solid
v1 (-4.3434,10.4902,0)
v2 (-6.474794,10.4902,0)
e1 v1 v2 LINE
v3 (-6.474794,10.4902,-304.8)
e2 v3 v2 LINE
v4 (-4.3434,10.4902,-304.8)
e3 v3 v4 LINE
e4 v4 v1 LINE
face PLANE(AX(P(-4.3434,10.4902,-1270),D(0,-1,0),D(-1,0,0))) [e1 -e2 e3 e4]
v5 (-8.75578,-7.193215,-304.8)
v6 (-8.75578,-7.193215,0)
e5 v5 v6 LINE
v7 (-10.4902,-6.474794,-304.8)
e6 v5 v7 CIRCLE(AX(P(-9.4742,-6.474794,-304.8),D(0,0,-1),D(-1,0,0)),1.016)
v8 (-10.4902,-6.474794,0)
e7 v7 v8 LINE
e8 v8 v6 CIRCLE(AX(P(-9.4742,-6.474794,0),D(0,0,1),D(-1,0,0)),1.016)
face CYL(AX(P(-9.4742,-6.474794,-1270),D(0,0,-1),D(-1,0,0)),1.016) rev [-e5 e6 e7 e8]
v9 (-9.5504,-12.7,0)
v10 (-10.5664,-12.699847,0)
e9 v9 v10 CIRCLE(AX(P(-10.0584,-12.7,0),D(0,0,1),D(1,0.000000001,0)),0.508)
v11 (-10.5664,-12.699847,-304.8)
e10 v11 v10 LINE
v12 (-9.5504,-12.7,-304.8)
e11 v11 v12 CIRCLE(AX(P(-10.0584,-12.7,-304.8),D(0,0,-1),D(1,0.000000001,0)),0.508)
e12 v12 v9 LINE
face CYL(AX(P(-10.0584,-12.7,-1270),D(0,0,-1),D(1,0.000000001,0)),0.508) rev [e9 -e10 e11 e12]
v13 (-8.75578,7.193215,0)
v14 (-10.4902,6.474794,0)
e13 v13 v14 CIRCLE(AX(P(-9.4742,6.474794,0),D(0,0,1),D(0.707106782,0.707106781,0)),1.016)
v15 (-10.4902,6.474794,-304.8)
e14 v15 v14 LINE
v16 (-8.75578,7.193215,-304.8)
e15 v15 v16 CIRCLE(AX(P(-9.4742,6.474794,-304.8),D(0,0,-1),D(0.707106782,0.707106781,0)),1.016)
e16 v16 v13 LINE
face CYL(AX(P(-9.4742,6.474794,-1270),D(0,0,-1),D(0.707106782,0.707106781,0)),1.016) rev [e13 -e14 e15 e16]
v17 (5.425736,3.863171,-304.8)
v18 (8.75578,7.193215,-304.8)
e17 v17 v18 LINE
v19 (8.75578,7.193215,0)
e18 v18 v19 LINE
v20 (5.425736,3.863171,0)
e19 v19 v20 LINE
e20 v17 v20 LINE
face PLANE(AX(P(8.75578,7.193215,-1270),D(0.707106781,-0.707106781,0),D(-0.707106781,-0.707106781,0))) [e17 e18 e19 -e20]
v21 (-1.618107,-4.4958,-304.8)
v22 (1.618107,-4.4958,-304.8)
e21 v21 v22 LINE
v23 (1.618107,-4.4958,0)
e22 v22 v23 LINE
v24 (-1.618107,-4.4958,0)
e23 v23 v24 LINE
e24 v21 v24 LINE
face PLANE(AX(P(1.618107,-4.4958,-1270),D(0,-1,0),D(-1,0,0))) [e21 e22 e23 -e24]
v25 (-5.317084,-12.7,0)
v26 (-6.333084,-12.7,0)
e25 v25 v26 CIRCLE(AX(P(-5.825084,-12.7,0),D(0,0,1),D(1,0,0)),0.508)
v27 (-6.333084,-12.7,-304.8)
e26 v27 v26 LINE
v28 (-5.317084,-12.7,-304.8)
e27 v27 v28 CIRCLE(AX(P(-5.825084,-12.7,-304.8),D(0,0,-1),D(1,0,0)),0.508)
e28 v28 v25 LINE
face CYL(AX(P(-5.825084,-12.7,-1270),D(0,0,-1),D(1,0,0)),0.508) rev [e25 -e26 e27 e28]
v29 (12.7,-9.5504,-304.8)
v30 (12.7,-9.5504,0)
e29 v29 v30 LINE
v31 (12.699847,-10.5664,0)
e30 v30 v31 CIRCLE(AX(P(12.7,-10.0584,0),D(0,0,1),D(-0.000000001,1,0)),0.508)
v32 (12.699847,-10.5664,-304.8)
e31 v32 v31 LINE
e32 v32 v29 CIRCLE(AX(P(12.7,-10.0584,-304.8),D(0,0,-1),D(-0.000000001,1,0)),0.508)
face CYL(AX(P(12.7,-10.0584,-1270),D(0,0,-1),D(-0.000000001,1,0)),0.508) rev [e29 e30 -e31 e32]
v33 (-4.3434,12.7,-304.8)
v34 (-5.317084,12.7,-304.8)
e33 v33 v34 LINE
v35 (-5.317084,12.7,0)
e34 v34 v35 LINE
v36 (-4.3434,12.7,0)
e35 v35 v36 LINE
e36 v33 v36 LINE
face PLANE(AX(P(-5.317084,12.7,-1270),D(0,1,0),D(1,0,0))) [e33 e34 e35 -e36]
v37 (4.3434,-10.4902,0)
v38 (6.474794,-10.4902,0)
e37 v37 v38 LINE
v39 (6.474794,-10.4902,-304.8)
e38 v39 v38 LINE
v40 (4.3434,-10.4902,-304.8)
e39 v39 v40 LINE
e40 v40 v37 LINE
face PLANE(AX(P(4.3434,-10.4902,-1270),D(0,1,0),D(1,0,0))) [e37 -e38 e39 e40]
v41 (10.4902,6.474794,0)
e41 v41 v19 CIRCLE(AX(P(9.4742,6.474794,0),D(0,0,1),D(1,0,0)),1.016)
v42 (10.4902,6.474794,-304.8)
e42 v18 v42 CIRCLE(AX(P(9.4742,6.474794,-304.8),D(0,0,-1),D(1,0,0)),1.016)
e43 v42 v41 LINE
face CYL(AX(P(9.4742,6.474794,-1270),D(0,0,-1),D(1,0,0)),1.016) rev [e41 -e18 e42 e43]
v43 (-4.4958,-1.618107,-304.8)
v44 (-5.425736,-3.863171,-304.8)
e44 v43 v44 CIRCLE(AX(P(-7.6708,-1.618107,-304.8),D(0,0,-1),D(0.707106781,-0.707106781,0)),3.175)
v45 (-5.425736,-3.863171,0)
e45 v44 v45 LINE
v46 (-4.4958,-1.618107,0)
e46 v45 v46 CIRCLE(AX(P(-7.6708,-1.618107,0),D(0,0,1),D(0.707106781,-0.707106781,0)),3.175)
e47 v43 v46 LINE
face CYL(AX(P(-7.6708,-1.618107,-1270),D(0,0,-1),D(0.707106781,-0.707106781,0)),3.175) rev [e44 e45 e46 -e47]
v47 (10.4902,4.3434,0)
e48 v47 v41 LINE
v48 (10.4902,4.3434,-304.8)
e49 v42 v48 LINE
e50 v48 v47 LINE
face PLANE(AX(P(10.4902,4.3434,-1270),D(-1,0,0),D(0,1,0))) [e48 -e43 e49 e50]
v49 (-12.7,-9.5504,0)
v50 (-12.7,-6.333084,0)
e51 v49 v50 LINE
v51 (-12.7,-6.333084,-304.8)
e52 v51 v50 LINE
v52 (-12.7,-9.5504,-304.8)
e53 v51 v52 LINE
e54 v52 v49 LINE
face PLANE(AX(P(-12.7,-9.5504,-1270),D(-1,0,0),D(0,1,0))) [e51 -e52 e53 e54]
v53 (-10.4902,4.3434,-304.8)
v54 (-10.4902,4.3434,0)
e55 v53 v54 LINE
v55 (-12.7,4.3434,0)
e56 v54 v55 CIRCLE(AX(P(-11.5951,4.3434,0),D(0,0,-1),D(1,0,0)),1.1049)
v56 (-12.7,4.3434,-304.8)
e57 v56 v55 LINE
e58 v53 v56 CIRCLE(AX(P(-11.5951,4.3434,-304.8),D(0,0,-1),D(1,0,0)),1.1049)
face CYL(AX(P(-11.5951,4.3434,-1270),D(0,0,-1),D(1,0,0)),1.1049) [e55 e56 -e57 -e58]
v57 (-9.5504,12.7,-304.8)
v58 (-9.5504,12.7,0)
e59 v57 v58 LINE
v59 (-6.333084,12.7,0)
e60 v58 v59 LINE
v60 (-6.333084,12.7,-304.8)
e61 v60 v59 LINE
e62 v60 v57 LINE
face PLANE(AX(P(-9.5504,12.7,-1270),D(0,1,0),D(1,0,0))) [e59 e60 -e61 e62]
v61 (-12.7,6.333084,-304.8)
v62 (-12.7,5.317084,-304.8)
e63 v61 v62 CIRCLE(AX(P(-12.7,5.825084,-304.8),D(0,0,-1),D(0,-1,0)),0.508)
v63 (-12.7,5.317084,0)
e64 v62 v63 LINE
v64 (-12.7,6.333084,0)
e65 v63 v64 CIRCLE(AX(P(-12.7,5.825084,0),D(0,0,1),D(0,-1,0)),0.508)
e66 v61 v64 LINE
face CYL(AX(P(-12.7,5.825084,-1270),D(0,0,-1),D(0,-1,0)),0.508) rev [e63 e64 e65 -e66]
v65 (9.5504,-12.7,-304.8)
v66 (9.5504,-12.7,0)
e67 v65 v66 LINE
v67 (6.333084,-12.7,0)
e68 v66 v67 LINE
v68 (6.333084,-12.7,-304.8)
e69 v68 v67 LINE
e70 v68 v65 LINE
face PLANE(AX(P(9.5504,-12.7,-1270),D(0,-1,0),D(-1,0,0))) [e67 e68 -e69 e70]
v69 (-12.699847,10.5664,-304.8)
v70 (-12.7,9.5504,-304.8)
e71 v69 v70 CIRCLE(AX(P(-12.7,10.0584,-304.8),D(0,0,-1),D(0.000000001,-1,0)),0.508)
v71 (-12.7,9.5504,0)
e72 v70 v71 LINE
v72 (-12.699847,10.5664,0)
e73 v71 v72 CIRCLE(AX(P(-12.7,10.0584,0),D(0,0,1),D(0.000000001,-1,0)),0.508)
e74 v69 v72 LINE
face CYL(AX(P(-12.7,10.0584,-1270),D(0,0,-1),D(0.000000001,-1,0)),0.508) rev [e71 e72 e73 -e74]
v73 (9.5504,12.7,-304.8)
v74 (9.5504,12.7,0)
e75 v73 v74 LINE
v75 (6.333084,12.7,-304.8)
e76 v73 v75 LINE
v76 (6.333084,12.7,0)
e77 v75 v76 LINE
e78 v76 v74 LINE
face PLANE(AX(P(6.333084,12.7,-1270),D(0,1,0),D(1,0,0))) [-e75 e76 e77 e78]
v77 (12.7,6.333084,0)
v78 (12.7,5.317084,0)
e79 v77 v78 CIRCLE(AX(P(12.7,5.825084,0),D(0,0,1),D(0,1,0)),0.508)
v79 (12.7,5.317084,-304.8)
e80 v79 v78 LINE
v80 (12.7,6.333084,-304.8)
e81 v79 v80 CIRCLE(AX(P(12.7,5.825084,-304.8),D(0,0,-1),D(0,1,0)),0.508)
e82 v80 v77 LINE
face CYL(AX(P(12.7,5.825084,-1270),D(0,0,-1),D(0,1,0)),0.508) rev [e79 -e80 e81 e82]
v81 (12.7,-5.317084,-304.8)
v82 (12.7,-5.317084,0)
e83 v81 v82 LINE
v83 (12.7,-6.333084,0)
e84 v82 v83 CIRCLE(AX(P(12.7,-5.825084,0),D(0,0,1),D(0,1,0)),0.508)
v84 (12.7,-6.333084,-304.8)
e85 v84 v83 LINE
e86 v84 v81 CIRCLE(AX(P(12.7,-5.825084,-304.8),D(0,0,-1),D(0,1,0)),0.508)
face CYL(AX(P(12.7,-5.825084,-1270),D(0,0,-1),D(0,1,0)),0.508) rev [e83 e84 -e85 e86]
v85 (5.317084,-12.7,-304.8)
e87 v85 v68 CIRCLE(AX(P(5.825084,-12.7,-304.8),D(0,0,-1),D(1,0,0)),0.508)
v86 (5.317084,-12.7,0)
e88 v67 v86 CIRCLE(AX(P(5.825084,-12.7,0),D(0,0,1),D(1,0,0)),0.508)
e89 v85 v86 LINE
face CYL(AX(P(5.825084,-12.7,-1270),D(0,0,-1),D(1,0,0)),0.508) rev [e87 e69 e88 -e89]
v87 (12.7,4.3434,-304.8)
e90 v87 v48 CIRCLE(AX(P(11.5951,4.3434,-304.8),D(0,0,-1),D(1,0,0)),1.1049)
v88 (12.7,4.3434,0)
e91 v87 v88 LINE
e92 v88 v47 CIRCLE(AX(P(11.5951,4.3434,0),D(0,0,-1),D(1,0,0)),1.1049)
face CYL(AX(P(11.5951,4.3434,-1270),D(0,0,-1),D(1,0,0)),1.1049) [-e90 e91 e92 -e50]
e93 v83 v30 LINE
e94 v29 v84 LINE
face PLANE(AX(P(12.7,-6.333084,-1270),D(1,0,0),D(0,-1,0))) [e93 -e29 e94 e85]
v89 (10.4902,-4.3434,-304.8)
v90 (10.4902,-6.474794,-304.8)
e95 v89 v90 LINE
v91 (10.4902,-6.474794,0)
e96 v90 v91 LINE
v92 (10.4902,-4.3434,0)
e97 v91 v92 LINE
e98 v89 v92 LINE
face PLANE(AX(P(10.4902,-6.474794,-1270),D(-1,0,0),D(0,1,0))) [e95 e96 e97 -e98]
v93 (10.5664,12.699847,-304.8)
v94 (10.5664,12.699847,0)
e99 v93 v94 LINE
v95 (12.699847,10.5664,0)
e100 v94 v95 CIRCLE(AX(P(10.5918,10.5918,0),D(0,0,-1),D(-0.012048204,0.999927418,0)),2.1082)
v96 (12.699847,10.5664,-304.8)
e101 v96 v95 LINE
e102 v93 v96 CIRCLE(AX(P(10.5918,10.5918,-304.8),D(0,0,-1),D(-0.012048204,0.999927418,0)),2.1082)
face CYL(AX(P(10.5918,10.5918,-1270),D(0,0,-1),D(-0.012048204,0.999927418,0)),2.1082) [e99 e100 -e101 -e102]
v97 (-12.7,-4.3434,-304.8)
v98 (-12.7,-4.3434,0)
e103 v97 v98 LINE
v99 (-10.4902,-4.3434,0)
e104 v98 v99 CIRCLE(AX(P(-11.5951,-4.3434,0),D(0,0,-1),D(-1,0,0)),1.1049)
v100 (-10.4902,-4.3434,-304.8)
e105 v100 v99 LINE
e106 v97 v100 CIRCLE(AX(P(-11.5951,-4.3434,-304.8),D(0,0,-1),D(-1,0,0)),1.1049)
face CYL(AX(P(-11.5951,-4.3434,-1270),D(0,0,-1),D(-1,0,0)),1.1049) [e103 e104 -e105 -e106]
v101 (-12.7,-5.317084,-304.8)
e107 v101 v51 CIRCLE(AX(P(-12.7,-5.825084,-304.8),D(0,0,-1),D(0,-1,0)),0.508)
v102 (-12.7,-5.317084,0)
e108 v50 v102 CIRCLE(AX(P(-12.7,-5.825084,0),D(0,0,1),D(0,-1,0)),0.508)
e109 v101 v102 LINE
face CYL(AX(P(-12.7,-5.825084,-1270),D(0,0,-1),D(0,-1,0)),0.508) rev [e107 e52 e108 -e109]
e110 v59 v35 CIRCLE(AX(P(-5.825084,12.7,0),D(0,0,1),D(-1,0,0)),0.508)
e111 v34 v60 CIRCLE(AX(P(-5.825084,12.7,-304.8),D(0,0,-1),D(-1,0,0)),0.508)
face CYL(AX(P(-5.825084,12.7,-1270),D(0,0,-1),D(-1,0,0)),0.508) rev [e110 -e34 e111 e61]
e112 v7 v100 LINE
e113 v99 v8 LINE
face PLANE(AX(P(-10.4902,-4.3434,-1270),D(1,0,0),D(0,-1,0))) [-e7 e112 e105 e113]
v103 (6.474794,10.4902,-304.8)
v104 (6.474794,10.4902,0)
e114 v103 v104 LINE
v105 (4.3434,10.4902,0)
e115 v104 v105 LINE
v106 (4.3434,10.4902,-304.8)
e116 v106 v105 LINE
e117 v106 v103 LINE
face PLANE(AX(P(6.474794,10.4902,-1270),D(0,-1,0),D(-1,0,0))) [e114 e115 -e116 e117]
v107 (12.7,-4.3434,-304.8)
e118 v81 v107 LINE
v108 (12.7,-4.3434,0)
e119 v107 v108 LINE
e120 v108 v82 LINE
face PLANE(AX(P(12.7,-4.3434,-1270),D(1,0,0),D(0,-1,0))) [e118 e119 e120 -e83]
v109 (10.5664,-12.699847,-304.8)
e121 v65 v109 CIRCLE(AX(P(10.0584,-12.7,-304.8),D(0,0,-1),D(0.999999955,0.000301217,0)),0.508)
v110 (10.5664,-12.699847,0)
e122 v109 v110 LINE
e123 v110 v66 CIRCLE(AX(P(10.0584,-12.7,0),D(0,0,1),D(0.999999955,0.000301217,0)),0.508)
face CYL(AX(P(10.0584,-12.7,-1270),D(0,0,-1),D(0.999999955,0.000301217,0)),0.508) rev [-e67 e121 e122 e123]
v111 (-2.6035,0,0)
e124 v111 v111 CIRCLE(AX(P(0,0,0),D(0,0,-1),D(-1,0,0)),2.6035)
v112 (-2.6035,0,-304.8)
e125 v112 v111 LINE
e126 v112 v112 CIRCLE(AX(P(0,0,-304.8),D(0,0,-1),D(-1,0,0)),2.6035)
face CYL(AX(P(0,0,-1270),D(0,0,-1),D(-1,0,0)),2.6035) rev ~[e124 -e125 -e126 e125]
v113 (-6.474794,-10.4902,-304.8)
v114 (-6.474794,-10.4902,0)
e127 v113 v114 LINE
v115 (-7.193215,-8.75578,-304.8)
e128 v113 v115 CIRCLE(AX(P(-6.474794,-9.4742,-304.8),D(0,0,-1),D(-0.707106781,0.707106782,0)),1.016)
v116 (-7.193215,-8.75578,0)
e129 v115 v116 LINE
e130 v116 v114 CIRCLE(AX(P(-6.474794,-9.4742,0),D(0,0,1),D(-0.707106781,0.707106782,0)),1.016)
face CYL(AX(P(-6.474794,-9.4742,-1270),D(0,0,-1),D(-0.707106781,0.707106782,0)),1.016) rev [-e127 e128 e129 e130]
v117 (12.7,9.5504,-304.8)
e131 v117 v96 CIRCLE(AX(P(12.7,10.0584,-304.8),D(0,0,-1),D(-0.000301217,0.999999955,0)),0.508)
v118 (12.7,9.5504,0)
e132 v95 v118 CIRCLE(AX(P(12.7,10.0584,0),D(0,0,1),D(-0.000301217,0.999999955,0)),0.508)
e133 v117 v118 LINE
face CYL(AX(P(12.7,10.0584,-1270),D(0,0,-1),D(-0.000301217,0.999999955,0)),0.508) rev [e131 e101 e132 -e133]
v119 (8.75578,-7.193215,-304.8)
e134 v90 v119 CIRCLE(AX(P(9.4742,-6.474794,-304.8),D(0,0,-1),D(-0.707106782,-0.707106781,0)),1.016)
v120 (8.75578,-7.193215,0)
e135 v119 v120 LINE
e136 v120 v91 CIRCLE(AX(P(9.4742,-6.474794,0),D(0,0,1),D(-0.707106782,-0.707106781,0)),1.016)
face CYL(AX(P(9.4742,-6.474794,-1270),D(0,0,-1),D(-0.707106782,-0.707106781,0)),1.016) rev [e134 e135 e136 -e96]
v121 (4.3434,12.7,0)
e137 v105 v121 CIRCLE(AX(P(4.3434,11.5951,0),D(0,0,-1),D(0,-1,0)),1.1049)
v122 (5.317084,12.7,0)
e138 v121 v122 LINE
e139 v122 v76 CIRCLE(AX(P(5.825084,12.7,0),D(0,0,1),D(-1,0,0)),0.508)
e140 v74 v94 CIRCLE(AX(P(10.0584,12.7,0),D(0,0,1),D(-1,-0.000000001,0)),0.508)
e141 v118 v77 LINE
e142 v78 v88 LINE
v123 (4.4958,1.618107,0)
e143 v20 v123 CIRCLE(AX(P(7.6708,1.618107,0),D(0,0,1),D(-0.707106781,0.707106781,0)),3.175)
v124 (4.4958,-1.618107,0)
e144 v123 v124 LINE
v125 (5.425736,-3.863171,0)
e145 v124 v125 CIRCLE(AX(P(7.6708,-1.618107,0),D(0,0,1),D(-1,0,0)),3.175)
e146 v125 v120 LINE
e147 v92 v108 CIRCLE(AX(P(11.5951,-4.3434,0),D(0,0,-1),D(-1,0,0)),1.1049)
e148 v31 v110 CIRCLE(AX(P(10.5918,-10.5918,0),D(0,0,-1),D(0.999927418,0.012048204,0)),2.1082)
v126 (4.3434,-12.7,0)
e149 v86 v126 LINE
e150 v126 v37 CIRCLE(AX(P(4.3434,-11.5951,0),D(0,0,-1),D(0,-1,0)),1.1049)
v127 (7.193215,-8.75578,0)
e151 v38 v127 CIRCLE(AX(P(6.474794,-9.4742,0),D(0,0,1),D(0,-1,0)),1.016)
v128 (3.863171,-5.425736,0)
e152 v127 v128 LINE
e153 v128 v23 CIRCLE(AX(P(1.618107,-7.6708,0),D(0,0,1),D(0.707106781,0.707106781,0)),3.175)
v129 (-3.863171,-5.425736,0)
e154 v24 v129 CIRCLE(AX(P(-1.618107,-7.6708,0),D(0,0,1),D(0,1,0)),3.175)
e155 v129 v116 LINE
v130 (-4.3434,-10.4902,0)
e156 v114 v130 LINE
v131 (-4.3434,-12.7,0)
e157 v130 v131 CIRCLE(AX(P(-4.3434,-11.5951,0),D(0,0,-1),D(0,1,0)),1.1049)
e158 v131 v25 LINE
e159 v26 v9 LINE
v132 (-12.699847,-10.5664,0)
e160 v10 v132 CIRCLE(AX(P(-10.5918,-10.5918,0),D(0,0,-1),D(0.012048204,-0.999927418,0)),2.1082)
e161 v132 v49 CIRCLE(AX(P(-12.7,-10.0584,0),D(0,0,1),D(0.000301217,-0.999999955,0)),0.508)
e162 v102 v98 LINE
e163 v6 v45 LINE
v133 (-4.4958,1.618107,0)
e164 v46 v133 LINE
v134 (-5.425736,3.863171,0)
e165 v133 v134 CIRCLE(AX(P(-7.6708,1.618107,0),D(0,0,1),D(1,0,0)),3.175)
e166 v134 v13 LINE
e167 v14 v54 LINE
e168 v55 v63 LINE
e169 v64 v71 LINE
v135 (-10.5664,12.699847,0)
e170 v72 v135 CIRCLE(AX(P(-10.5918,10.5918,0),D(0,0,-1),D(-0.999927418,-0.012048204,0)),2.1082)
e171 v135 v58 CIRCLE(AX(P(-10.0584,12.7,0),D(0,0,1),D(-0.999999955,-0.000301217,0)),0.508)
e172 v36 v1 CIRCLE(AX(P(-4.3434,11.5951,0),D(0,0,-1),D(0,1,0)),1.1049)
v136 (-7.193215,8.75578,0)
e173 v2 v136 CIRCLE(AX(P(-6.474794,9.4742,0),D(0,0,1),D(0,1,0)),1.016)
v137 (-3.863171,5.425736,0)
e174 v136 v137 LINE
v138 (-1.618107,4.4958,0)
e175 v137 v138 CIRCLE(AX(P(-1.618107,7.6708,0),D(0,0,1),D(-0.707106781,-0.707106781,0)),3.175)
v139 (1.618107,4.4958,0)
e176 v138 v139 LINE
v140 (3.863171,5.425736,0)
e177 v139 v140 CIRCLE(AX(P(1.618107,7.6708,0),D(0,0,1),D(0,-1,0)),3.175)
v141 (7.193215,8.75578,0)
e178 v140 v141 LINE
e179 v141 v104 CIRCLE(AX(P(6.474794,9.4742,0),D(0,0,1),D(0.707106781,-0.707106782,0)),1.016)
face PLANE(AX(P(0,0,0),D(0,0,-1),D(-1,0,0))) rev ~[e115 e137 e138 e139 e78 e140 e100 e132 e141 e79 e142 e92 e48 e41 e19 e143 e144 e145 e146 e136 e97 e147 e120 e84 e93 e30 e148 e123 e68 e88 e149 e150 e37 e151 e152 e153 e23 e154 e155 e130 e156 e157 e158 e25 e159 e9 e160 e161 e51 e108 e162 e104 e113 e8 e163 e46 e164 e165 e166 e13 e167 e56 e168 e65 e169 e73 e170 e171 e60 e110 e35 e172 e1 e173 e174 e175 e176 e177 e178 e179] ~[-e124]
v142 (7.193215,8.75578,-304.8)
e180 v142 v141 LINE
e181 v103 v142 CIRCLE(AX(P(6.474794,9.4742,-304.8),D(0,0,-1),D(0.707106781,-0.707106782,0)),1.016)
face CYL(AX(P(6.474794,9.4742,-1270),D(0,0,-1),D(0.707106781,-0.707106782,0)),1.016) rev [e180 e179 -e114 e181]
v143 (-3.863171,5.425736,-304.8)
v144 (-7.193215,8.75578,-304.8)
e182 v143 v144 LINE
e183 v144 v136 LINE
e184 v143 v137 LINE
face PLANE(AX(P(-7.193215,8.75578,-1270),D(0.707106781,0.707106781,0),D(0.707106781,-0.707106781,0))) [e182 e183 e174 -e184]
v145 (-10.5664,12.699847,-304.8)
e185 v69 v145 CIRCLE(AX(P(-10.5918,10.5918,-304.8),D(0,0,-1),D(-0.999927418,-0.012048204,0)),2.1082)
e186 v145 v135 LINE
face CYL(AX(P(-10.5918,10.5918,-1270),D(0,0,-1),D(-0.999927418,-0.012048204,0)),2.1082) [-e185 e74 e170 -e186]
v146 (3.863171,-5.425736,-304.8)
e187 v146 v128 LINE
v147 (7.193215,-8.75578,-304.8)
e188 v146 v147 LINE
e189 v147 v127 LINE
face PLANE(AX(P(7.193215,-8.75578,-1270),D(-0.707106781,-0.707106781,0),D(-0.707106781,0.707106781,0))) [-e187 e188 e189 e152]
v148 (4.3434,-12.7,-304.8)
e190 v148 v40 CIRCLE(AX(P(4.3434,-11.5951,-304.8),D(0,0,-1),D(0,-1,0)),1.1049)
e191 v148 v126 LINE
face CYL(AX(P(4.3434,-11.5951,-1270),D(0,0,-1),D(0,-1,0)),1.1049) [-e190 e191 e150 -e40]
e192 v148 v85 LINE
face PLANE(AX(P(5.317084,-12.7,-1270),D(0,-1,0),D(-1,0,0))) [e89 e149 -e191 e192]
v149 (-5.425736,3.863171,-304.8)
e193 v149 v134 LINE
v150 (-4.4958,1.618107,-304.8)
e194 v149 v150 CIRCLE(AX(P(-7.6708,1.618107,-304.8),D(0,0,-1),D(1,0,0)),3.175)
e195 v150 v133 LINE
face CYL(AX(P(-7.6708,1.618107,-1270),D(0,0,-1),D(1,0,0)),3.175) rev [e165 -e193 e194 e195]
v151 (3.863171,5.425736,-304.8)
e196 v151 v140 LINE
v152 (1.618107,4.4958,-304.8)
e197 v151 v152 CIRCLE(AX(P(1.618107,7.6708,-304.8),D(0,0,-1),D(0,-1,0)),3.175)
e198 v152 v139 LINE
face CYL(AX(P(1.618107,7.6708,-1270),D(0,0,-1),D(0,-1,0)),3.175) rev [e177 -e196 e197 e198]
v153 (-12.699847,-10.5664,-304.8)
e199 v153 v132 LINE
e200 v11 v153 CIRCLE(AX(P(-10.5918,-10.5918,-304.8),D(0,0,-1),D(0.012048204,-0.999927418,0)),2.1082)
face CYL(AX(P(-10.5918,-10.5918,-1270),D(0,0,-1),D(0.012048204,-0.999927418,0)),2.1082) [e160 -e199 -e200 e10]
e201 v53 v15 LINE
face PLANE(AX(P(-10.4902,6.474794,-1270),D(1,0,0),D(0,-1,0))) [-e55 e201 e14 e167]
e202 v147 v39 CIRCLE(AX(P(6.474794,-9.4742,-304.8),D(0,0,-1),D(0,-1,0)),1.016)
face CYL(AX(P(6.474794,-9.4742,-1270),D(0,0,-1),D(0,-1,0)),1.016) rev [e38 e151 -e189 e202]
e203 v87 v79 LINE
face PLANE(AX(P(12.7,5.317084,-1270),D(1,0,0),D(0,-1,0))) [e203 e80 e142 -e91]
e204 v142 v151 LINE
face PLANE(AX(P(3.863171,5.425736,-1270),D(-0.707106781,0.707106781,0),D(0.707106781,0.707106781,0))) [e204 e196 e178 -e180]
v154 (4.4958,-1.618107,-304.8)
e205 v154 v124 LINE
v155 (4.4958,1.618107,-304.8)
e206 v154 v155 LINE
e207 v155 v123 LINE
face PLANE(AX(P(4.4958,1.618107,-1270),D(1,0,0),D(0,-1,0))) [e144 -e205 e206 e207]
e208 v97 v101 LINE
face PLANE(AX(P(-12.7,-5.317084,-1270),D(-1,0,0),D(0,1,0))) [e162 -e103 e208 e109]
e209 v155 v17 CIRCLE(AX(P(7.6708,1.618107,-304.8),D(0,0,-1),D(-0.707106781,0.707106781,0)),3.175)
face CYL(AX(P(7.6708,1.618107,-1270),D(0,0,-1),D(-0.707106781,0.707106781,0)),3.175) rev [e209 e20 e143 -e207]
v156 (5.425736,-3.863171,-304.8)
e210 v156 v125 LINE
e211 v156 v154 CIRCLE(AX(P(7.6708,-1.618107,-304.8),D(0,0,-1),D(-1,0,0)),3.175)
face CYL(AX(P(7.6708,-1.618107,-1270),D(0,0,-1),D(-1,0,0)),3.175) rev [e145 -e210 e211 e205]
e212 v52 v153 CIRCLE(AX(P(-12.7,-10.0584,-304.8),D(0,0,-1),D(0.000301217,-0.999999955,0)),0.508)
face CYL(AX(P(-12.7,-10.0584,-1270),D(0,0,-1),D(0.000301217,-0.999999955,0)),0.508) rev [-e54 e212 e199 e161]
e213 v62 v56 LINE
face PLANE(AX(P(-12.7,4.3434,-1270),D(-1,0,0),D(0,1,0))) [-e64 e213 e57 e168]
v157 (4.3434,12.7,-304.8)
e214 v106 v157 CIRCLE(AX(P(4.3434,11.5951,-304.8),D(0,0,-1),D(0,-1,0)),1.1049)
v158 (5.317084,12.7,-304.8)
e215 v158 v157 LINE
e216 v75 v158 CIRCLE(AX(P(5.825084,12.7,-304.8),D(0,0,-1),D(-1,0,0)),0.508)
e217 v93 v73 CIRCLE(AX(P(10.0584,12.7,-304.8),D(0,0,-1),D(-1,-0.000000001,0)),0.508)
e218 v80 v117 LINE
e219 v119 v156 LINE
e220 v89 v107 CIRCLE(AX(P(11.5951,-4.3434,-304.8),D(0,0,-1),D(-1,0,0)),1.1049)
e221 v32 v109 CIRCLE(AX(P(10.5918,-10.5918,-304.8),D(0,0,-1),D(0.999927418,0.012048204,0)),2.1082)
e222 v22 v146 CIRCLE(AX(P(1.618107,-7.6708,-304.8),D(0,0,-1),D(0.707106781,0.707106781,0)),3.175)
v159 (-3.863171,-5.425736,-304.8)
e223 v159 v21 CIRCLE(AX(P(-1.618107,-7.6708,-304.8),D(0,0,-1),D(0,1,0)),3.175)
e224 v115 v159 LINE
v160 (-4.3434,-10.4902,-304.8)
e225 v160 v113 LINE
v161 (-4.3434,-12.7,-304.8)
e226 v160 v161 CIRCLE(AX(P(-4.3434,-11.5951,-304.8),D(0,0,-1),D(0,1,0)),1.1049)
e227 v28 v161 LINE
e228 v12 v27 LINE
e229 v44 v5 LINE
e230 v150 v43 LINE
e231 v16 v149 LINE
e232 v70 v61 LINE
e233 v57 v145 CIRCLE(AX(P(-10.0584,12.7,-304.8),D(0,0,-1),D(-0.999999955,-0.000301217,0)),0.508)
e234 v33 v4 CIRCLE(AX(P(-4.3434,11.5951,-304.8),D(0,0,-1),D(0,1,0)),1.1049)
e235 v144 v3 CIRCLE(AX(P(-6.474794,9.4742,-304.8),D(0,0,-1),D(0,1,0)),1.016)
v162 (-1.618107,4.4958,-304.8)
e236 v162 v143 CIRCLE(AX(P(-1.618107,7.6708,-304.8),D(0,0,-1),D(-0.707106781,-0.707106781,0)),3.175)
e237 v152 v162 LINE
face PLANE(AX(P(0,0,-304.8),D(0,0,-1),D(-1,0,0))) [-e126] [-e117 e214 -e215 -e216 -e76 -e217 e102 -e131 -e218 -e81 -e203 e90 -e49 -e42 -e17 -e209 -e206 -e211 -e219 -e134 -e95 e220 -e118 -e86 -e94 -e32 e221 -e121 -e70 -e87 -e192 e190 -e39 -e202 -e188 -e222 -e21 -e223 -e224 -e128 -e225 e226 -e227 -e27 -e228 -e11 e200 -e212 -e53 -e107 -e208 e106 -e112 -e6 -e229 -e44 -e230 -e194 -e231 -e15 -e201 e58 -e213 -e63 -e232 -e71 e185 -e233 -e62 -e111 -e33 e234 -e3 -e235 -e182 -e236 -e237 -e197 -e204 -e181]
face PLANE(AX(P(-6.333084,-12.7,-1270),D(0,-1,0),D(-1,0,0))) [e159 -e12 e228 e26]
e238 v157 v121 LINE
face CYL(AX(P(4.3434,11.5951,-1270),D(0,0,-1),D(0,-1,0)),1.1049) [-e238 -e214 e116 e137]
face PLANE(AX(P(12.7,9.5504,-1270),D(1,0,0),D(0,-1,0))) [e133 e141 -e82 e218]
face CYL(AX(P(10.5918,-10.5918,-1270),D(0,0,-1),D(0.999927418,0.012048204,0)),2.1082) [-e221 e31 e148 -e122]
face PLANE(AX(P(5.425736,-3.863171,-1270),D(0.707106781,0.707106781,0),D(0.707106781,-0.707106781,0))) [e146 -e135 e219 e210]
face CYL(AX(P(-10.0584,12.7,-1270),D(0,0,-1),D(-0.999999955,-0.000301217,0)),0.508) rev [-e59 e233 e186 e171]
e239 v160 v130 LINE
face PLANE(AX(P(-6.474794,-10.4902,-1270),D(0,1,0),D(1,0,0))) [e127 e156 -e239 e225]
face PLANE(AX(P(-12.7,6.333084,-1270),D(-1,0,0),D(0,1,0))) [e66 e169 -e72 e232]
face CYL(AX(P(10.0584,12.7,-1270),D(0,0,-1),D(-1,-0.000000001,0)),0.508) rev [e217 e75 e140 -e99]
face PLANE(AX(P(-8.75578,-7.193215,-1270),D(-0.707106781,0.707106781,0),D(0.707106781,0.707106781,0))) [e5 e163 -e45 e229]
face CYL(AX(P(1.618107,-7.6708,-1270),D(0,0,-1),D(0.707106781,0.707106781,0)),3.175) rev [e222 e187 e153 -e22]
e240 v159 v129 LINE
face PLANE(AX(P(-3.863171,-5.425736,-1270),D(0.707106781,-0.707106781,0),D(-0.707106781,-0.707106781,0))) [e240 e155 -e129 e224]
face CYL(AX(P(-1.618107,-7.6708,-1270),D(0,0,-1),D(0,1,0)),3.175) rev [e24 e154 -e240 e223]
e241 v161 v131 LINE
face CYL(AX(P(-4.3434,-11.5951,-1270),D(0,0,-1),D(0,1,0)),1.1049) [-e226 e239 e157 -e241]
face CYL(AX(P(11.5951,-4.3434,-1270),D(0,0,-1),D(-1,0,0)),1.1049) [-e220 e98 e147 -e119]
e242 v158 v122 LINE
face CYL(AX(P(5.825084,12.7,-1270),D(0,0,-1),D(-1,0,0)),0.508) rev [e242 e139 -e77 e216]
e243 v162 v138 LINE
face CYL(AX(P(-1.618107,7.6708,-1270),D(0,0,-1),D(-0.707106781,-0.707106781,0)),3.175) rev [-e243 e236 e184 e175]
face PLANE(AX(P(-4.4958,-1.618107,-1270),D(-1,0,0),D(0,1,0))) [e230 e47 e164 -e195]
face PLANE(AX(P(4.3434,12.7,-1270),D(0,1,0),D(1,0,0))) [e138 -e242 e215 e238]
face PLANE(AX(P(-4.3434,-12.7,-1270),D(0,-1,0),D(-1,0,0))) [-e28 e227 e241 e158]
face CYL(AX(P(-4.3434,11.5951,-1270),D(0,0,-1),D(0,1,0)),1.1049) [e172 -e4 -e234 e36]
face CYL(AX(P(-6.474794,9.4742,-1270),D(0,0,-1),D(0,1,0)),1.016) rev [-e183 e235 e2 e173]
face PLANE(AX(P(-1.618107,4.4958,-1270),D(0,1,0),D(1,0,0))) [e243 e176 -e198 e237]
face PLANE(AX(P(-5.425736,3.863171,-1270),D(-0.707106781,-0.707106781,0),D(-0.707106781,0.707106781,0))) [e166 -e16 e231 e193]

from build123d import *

# Parameters (mm, degrees)
SKETCH1_R           = 2.6035
BOSS_EXTRUDE1_DEPTH = 1270
SKETCH6_W           = 122.666969327
SKETCH6_H           = 109.347800906
CUT_EXTRUDE1_DEPTH  = 572.5
SKETCH7_W           = 38.999416314
SKETCH7_H           = 31.386968174
CUT_EXTRUDE2_DEPTH  = 393.7


with BuildPart() as part:
    # Sketch1 → Boss-Extrude1 (new body)
    with BuildSketch(Plane(origin=(0, 0, -1270), x_dir=(-1, 0, 0), z_dir=(0, 0, -1))):
        with BuildLine():
            Line((12.7, -9.5504), (12.7, -6.3330836))
            ThreePointArc((12.7, -6.3330836), (12.192, -5.8250836), (12.7, -5.3170836))
            Line((12.7, -5.3170836), (12.7, -4.3434))
            ThreePointArc((12.7, -4.3434), (11.5951, -3.2385), (10.4902, -4.3434))
            Line((10.4902, -4.3434), (10.4902, -6.474794456))
            ThreePointArc((10.4902, -6.474794456), (9.863006367, -7.413456061), (8.75577951, -7.193214945))
            Line((8.75577951, -7.193214945), (5.42573597, -3.863171405))
            ThreePointArc((5.42573597, -3.863171405), (4.737482484, -2.833127272), (4.4958, -1.618107374))
            Line((4.4958, -1.618107374), (4.4958, 1.618107374))
            ThreePointArc((4.4958, 1.618107374), (4.737482484, 2.833127272), (5.42573597, 3.863171405))
            Line((5.42573597, 3.863171405), (8.75577951, 7.193214945))
            ThreePointArc((8.75577951, 7.193214945), (9.863006367, 7.413456061), (10.4902, 6.474794456))
            Line((10.4902, 6.474794456), (10.4902, 4.343399971))
            ThreePointArc((10.4902, 4.343399971), (11.5951, 3.238499971), (12.7, 4.343399971))
            Line((12.7, 4.343399971), (12.7, 5.3170836))
            ThreePointArc((12.7, 5.3170836), (12.192, 5.8250836), (12.7, 6.3330836))
            Line((12.7, 6.3330836), (12.7, 9.5504))
            ThreePointArc((12.7, 9.5504), (12.192000006, 10.058323491), (12.699846982, 10.566399977))
            ThreePointArc((12.699846982, 10.566399977), (12.082522516, 12.082522516), (10.566399977, 12.699846982))
            ThreePointArc((10.566399977, 12.699846982), (10.058323491, 12.192000006), (9.5504, 12.7))
            Line((9.5504, 12.7), (6.3330836, 12.7))
            ThreePointArc((6.3330836, 12.7), (5.8250836, 12.192), (5.3170836, 12.7))
            Line((5.3170836, 12.7), (4.3434, 12.7))
            ThreePointArc((4.3434, 12.7), (3.2385, 11.5951), (4.3434, 10.4902))
            Line((4.3434, 10.4902), (6.474794456, 10.4902))
            ThreePointArc((6.474794456, 10.4902), (7.413456061, 9.863006367), (7.193214945, 8.75577951))
            Line((7.193214945, 8.75577951), (3.863171405, 5.42573597))
            ThreePointArc((3.863171405, 5.42573597), (2.833127272, 4.737482484), (1.618107374, 4.4958))
            Line((1.618107374, 4.4958), (-1.618107374, 4.4958))
            ThreePointArc((-1.618107374, 4.4958), (-2.833127272, 4.737482484), (-3.863171405, 5.42573597))
            Line((-3.863171405, 5.42573597), (-7.193214945, 8.75577951))
            ThreePointArc((-7.193214945, 8.75577951), (-7.413456061, 9.863006367), (-6.474794456, 10.4902))
            Line((-6.474794456, 10.4902), (-4.343399971, 10.4902))
            ThreePointArc((-4.343399971, 10.4902), (-3.238499971, 11.5951), (-4.343399971, 12.7))
            Line((-4.343399971, 12.7), (-5.3170836, 12.7))
            ThreePointArc((-5.3170836, 12.7), (-5.8250836, 12.192), (-6.3330836, 12.7))
            Line((-6.3330836, 12.7), (-9.5504, 12.7))
            ThreePointArc((-9.5504, 12.7), (-10.058323491, 12.192000006), (-10.566399977, 12.699846982))
            ThreePointArc((-10.566399977, 12.699846982), (-12.082522516, 12.082522516), (-12.699846982, 10.566399977))
            ThreePointArc((-12.699846982, 10.566399977), (-12.192000006, 10.058323491), (-12.7, 9.5504))
            Line((-12.7, 9.5504), (-12.7, 6.3330836))
            ThreePointArc((-12.7, 6.3330836), (-12.192, 5.8250836), (-12.7, 5.3170836))
            Line((-12.7, 5.3170836), (-12.7, 4.3434))
            ThreePointArc((-12.7, 4.3434), (-11.5951, 3.2385), (-10.4902, 4.3434))
            Line((-10.4902, 4.3434), (-10.4902, 6.474794456))
            ThreePointArc((-10.4902, 6.474794456), (-9.863006367, 7.413456061), (-8.75577951, 7.193214945))
            Line((-8.75577951, 7.193214945), (-5.42573597, 3.863171405))
            ThreePointArc((-5.42573597, 3.863171405), (-4.737482484, 2.833127272), (-4.4958, 1.618107374))
            Line((-4.4958, 1.618107374), (-4.4958, -1.618107374))
            ThreePointArc((-4.4958, -1.618107374), (-4.737482484, -2.833127272), (-5.42573597, -3.863171405))
            Line((-5.42573597, -3.863171405), (-8.75577951, -7.193214945))
            ThreePointArc((-8.75577951, -7.193214945), (-9.863006367, -7.413456061), (-10.4902, -6.474794456))
            Line((-10.4902, -6.474794456), (-10.4902, -4.343399971))
            ThreePointArc((-10.4902, -4.343399971), (-11.5951, -3.238499971), (-12.7, -4.343399971))
            Line((-12.7, -4.343399971), (-12.7, -5.3170836))
            ThreePointArc((-12.7, -5.3170836), (-12.192, -5.8250836), (-12.7, -6.3330836))
            Line((-12.7, -6.3330836), (-12.7, -9.5504))
            ThreePointArc((-12.7, -9.5504), (-12.192000006, -10.058323491), (-12.699846982, -10.566399977))
            ThreePointArc((-12.699846982, -10.566399977), (-12.082522516, -12.082522516), (-10.566399977, -12.699846982))
            ThreePointArc((-10.566399977, -12.699846982), (-10.058323491, -12.192000006), (-9.5504, -12.7))
            Line((-9.5504, -12.7), (-6.3330836, -12.7))
            ThreePointArc((-6.3330836, -12.7), (-5.8250836, -12.192), (-5.3170836, -12.7))
            Line((-5.3170836, -12.7), (-4.3434, -12.7))
            ThreePointArc((-4.3434, -12.7), (-3.2385, -11.5951), (-4.3434, -10.4902))
            Line((-4.3434, -10.4902), (-6.474794456, -10.4902))
            ThreePointArc((-6.474794456, -10.4902), (-7.413456061, -9.863006367), (-7.193214945, -8.75577951))
            Line((-7.193214945, -8.75577951), (-3.863171405, -5.42573597))
            ThreePointArc((-3.863171405, -5.42573597), (-2.833127272, -4.737482484), (-1.618107374, -4.4958))
            Line((-1.618107374, -4.4958), (1.618107374, -4.4958))
            ThreePointArc((1.618107374, -4.4958), (2.833127272, -4.737482484), (3.863171405, -5.42573597))
            Line((3.863171405, -5.42573597), (7.193214945, -8.75577951))
            ThreePointArc((7.193214945, -8.75577951), (7.413456061, -9.863006367), (6.474794456, -10.4902))
            Line((6.474794456, -10.4902), (4.343399971, -10.4902))
            ThreePointArc((4.343399971, -10.4902), (3.238499971, -11.5951), (4.343399971, -12.7))
            Line((4.343399971, -12.7), (5.3170836, -12.7))
            ThreePointArc((5.3170836, -12.7), (5.8250836, -12.192), (6.3330836, -12.7))
            Line((6.3330836, -12.7), (9.5504, -12.7))
            ThreePointArc((9.5504, -12.7), (10.058323491, -12.192000006), (10.566399977, -12.699846982))
            ThreePointArc((10.566399977, -12.699846982), (12.082522516, -12.082522516), (12.699846982, -10.566399977))
            ThreePointArc((12.699846982, -10.566399977), (12.192000006, -10.058323491), (12.7, -9.5504))
        make_face()
        Circle(SKETCH1_R, mode=Mode.SUBTRACT)
    extrude(amount=-BOSS_EXTRUDE1_DEPTH)

    # Sketch6 → Cut-Extrude1 (cut, through all)
    with BuildSketch(Plane(origin=(0, 0, -698.5), x_dir=(-1, 0, 0), z_dir=(0, 0, -1))):
        with Locations((17.668938213, -20.549718265)):
            Rectangle(SKETCH6_W, SKETCH6_H)
    extrude(amount=CUT_EXTRUDE1_DEPTH, mode=Mode.SUBTRACT)

    # Sketch7 → Cut-Extrude2 (cut)
    with BuildSketch(Plane(origin=(0, 0, -698.5), x_dir=(-1, 0, 0), z_dir=(0, 0, -1))):
        Rectangle(SKETCH7_W, SKETCH7_H)
    extrude(amount=-CUT_EXTRUDE2_DEPTH, mode=Mode.SUBTRACT)


solid = part.part
